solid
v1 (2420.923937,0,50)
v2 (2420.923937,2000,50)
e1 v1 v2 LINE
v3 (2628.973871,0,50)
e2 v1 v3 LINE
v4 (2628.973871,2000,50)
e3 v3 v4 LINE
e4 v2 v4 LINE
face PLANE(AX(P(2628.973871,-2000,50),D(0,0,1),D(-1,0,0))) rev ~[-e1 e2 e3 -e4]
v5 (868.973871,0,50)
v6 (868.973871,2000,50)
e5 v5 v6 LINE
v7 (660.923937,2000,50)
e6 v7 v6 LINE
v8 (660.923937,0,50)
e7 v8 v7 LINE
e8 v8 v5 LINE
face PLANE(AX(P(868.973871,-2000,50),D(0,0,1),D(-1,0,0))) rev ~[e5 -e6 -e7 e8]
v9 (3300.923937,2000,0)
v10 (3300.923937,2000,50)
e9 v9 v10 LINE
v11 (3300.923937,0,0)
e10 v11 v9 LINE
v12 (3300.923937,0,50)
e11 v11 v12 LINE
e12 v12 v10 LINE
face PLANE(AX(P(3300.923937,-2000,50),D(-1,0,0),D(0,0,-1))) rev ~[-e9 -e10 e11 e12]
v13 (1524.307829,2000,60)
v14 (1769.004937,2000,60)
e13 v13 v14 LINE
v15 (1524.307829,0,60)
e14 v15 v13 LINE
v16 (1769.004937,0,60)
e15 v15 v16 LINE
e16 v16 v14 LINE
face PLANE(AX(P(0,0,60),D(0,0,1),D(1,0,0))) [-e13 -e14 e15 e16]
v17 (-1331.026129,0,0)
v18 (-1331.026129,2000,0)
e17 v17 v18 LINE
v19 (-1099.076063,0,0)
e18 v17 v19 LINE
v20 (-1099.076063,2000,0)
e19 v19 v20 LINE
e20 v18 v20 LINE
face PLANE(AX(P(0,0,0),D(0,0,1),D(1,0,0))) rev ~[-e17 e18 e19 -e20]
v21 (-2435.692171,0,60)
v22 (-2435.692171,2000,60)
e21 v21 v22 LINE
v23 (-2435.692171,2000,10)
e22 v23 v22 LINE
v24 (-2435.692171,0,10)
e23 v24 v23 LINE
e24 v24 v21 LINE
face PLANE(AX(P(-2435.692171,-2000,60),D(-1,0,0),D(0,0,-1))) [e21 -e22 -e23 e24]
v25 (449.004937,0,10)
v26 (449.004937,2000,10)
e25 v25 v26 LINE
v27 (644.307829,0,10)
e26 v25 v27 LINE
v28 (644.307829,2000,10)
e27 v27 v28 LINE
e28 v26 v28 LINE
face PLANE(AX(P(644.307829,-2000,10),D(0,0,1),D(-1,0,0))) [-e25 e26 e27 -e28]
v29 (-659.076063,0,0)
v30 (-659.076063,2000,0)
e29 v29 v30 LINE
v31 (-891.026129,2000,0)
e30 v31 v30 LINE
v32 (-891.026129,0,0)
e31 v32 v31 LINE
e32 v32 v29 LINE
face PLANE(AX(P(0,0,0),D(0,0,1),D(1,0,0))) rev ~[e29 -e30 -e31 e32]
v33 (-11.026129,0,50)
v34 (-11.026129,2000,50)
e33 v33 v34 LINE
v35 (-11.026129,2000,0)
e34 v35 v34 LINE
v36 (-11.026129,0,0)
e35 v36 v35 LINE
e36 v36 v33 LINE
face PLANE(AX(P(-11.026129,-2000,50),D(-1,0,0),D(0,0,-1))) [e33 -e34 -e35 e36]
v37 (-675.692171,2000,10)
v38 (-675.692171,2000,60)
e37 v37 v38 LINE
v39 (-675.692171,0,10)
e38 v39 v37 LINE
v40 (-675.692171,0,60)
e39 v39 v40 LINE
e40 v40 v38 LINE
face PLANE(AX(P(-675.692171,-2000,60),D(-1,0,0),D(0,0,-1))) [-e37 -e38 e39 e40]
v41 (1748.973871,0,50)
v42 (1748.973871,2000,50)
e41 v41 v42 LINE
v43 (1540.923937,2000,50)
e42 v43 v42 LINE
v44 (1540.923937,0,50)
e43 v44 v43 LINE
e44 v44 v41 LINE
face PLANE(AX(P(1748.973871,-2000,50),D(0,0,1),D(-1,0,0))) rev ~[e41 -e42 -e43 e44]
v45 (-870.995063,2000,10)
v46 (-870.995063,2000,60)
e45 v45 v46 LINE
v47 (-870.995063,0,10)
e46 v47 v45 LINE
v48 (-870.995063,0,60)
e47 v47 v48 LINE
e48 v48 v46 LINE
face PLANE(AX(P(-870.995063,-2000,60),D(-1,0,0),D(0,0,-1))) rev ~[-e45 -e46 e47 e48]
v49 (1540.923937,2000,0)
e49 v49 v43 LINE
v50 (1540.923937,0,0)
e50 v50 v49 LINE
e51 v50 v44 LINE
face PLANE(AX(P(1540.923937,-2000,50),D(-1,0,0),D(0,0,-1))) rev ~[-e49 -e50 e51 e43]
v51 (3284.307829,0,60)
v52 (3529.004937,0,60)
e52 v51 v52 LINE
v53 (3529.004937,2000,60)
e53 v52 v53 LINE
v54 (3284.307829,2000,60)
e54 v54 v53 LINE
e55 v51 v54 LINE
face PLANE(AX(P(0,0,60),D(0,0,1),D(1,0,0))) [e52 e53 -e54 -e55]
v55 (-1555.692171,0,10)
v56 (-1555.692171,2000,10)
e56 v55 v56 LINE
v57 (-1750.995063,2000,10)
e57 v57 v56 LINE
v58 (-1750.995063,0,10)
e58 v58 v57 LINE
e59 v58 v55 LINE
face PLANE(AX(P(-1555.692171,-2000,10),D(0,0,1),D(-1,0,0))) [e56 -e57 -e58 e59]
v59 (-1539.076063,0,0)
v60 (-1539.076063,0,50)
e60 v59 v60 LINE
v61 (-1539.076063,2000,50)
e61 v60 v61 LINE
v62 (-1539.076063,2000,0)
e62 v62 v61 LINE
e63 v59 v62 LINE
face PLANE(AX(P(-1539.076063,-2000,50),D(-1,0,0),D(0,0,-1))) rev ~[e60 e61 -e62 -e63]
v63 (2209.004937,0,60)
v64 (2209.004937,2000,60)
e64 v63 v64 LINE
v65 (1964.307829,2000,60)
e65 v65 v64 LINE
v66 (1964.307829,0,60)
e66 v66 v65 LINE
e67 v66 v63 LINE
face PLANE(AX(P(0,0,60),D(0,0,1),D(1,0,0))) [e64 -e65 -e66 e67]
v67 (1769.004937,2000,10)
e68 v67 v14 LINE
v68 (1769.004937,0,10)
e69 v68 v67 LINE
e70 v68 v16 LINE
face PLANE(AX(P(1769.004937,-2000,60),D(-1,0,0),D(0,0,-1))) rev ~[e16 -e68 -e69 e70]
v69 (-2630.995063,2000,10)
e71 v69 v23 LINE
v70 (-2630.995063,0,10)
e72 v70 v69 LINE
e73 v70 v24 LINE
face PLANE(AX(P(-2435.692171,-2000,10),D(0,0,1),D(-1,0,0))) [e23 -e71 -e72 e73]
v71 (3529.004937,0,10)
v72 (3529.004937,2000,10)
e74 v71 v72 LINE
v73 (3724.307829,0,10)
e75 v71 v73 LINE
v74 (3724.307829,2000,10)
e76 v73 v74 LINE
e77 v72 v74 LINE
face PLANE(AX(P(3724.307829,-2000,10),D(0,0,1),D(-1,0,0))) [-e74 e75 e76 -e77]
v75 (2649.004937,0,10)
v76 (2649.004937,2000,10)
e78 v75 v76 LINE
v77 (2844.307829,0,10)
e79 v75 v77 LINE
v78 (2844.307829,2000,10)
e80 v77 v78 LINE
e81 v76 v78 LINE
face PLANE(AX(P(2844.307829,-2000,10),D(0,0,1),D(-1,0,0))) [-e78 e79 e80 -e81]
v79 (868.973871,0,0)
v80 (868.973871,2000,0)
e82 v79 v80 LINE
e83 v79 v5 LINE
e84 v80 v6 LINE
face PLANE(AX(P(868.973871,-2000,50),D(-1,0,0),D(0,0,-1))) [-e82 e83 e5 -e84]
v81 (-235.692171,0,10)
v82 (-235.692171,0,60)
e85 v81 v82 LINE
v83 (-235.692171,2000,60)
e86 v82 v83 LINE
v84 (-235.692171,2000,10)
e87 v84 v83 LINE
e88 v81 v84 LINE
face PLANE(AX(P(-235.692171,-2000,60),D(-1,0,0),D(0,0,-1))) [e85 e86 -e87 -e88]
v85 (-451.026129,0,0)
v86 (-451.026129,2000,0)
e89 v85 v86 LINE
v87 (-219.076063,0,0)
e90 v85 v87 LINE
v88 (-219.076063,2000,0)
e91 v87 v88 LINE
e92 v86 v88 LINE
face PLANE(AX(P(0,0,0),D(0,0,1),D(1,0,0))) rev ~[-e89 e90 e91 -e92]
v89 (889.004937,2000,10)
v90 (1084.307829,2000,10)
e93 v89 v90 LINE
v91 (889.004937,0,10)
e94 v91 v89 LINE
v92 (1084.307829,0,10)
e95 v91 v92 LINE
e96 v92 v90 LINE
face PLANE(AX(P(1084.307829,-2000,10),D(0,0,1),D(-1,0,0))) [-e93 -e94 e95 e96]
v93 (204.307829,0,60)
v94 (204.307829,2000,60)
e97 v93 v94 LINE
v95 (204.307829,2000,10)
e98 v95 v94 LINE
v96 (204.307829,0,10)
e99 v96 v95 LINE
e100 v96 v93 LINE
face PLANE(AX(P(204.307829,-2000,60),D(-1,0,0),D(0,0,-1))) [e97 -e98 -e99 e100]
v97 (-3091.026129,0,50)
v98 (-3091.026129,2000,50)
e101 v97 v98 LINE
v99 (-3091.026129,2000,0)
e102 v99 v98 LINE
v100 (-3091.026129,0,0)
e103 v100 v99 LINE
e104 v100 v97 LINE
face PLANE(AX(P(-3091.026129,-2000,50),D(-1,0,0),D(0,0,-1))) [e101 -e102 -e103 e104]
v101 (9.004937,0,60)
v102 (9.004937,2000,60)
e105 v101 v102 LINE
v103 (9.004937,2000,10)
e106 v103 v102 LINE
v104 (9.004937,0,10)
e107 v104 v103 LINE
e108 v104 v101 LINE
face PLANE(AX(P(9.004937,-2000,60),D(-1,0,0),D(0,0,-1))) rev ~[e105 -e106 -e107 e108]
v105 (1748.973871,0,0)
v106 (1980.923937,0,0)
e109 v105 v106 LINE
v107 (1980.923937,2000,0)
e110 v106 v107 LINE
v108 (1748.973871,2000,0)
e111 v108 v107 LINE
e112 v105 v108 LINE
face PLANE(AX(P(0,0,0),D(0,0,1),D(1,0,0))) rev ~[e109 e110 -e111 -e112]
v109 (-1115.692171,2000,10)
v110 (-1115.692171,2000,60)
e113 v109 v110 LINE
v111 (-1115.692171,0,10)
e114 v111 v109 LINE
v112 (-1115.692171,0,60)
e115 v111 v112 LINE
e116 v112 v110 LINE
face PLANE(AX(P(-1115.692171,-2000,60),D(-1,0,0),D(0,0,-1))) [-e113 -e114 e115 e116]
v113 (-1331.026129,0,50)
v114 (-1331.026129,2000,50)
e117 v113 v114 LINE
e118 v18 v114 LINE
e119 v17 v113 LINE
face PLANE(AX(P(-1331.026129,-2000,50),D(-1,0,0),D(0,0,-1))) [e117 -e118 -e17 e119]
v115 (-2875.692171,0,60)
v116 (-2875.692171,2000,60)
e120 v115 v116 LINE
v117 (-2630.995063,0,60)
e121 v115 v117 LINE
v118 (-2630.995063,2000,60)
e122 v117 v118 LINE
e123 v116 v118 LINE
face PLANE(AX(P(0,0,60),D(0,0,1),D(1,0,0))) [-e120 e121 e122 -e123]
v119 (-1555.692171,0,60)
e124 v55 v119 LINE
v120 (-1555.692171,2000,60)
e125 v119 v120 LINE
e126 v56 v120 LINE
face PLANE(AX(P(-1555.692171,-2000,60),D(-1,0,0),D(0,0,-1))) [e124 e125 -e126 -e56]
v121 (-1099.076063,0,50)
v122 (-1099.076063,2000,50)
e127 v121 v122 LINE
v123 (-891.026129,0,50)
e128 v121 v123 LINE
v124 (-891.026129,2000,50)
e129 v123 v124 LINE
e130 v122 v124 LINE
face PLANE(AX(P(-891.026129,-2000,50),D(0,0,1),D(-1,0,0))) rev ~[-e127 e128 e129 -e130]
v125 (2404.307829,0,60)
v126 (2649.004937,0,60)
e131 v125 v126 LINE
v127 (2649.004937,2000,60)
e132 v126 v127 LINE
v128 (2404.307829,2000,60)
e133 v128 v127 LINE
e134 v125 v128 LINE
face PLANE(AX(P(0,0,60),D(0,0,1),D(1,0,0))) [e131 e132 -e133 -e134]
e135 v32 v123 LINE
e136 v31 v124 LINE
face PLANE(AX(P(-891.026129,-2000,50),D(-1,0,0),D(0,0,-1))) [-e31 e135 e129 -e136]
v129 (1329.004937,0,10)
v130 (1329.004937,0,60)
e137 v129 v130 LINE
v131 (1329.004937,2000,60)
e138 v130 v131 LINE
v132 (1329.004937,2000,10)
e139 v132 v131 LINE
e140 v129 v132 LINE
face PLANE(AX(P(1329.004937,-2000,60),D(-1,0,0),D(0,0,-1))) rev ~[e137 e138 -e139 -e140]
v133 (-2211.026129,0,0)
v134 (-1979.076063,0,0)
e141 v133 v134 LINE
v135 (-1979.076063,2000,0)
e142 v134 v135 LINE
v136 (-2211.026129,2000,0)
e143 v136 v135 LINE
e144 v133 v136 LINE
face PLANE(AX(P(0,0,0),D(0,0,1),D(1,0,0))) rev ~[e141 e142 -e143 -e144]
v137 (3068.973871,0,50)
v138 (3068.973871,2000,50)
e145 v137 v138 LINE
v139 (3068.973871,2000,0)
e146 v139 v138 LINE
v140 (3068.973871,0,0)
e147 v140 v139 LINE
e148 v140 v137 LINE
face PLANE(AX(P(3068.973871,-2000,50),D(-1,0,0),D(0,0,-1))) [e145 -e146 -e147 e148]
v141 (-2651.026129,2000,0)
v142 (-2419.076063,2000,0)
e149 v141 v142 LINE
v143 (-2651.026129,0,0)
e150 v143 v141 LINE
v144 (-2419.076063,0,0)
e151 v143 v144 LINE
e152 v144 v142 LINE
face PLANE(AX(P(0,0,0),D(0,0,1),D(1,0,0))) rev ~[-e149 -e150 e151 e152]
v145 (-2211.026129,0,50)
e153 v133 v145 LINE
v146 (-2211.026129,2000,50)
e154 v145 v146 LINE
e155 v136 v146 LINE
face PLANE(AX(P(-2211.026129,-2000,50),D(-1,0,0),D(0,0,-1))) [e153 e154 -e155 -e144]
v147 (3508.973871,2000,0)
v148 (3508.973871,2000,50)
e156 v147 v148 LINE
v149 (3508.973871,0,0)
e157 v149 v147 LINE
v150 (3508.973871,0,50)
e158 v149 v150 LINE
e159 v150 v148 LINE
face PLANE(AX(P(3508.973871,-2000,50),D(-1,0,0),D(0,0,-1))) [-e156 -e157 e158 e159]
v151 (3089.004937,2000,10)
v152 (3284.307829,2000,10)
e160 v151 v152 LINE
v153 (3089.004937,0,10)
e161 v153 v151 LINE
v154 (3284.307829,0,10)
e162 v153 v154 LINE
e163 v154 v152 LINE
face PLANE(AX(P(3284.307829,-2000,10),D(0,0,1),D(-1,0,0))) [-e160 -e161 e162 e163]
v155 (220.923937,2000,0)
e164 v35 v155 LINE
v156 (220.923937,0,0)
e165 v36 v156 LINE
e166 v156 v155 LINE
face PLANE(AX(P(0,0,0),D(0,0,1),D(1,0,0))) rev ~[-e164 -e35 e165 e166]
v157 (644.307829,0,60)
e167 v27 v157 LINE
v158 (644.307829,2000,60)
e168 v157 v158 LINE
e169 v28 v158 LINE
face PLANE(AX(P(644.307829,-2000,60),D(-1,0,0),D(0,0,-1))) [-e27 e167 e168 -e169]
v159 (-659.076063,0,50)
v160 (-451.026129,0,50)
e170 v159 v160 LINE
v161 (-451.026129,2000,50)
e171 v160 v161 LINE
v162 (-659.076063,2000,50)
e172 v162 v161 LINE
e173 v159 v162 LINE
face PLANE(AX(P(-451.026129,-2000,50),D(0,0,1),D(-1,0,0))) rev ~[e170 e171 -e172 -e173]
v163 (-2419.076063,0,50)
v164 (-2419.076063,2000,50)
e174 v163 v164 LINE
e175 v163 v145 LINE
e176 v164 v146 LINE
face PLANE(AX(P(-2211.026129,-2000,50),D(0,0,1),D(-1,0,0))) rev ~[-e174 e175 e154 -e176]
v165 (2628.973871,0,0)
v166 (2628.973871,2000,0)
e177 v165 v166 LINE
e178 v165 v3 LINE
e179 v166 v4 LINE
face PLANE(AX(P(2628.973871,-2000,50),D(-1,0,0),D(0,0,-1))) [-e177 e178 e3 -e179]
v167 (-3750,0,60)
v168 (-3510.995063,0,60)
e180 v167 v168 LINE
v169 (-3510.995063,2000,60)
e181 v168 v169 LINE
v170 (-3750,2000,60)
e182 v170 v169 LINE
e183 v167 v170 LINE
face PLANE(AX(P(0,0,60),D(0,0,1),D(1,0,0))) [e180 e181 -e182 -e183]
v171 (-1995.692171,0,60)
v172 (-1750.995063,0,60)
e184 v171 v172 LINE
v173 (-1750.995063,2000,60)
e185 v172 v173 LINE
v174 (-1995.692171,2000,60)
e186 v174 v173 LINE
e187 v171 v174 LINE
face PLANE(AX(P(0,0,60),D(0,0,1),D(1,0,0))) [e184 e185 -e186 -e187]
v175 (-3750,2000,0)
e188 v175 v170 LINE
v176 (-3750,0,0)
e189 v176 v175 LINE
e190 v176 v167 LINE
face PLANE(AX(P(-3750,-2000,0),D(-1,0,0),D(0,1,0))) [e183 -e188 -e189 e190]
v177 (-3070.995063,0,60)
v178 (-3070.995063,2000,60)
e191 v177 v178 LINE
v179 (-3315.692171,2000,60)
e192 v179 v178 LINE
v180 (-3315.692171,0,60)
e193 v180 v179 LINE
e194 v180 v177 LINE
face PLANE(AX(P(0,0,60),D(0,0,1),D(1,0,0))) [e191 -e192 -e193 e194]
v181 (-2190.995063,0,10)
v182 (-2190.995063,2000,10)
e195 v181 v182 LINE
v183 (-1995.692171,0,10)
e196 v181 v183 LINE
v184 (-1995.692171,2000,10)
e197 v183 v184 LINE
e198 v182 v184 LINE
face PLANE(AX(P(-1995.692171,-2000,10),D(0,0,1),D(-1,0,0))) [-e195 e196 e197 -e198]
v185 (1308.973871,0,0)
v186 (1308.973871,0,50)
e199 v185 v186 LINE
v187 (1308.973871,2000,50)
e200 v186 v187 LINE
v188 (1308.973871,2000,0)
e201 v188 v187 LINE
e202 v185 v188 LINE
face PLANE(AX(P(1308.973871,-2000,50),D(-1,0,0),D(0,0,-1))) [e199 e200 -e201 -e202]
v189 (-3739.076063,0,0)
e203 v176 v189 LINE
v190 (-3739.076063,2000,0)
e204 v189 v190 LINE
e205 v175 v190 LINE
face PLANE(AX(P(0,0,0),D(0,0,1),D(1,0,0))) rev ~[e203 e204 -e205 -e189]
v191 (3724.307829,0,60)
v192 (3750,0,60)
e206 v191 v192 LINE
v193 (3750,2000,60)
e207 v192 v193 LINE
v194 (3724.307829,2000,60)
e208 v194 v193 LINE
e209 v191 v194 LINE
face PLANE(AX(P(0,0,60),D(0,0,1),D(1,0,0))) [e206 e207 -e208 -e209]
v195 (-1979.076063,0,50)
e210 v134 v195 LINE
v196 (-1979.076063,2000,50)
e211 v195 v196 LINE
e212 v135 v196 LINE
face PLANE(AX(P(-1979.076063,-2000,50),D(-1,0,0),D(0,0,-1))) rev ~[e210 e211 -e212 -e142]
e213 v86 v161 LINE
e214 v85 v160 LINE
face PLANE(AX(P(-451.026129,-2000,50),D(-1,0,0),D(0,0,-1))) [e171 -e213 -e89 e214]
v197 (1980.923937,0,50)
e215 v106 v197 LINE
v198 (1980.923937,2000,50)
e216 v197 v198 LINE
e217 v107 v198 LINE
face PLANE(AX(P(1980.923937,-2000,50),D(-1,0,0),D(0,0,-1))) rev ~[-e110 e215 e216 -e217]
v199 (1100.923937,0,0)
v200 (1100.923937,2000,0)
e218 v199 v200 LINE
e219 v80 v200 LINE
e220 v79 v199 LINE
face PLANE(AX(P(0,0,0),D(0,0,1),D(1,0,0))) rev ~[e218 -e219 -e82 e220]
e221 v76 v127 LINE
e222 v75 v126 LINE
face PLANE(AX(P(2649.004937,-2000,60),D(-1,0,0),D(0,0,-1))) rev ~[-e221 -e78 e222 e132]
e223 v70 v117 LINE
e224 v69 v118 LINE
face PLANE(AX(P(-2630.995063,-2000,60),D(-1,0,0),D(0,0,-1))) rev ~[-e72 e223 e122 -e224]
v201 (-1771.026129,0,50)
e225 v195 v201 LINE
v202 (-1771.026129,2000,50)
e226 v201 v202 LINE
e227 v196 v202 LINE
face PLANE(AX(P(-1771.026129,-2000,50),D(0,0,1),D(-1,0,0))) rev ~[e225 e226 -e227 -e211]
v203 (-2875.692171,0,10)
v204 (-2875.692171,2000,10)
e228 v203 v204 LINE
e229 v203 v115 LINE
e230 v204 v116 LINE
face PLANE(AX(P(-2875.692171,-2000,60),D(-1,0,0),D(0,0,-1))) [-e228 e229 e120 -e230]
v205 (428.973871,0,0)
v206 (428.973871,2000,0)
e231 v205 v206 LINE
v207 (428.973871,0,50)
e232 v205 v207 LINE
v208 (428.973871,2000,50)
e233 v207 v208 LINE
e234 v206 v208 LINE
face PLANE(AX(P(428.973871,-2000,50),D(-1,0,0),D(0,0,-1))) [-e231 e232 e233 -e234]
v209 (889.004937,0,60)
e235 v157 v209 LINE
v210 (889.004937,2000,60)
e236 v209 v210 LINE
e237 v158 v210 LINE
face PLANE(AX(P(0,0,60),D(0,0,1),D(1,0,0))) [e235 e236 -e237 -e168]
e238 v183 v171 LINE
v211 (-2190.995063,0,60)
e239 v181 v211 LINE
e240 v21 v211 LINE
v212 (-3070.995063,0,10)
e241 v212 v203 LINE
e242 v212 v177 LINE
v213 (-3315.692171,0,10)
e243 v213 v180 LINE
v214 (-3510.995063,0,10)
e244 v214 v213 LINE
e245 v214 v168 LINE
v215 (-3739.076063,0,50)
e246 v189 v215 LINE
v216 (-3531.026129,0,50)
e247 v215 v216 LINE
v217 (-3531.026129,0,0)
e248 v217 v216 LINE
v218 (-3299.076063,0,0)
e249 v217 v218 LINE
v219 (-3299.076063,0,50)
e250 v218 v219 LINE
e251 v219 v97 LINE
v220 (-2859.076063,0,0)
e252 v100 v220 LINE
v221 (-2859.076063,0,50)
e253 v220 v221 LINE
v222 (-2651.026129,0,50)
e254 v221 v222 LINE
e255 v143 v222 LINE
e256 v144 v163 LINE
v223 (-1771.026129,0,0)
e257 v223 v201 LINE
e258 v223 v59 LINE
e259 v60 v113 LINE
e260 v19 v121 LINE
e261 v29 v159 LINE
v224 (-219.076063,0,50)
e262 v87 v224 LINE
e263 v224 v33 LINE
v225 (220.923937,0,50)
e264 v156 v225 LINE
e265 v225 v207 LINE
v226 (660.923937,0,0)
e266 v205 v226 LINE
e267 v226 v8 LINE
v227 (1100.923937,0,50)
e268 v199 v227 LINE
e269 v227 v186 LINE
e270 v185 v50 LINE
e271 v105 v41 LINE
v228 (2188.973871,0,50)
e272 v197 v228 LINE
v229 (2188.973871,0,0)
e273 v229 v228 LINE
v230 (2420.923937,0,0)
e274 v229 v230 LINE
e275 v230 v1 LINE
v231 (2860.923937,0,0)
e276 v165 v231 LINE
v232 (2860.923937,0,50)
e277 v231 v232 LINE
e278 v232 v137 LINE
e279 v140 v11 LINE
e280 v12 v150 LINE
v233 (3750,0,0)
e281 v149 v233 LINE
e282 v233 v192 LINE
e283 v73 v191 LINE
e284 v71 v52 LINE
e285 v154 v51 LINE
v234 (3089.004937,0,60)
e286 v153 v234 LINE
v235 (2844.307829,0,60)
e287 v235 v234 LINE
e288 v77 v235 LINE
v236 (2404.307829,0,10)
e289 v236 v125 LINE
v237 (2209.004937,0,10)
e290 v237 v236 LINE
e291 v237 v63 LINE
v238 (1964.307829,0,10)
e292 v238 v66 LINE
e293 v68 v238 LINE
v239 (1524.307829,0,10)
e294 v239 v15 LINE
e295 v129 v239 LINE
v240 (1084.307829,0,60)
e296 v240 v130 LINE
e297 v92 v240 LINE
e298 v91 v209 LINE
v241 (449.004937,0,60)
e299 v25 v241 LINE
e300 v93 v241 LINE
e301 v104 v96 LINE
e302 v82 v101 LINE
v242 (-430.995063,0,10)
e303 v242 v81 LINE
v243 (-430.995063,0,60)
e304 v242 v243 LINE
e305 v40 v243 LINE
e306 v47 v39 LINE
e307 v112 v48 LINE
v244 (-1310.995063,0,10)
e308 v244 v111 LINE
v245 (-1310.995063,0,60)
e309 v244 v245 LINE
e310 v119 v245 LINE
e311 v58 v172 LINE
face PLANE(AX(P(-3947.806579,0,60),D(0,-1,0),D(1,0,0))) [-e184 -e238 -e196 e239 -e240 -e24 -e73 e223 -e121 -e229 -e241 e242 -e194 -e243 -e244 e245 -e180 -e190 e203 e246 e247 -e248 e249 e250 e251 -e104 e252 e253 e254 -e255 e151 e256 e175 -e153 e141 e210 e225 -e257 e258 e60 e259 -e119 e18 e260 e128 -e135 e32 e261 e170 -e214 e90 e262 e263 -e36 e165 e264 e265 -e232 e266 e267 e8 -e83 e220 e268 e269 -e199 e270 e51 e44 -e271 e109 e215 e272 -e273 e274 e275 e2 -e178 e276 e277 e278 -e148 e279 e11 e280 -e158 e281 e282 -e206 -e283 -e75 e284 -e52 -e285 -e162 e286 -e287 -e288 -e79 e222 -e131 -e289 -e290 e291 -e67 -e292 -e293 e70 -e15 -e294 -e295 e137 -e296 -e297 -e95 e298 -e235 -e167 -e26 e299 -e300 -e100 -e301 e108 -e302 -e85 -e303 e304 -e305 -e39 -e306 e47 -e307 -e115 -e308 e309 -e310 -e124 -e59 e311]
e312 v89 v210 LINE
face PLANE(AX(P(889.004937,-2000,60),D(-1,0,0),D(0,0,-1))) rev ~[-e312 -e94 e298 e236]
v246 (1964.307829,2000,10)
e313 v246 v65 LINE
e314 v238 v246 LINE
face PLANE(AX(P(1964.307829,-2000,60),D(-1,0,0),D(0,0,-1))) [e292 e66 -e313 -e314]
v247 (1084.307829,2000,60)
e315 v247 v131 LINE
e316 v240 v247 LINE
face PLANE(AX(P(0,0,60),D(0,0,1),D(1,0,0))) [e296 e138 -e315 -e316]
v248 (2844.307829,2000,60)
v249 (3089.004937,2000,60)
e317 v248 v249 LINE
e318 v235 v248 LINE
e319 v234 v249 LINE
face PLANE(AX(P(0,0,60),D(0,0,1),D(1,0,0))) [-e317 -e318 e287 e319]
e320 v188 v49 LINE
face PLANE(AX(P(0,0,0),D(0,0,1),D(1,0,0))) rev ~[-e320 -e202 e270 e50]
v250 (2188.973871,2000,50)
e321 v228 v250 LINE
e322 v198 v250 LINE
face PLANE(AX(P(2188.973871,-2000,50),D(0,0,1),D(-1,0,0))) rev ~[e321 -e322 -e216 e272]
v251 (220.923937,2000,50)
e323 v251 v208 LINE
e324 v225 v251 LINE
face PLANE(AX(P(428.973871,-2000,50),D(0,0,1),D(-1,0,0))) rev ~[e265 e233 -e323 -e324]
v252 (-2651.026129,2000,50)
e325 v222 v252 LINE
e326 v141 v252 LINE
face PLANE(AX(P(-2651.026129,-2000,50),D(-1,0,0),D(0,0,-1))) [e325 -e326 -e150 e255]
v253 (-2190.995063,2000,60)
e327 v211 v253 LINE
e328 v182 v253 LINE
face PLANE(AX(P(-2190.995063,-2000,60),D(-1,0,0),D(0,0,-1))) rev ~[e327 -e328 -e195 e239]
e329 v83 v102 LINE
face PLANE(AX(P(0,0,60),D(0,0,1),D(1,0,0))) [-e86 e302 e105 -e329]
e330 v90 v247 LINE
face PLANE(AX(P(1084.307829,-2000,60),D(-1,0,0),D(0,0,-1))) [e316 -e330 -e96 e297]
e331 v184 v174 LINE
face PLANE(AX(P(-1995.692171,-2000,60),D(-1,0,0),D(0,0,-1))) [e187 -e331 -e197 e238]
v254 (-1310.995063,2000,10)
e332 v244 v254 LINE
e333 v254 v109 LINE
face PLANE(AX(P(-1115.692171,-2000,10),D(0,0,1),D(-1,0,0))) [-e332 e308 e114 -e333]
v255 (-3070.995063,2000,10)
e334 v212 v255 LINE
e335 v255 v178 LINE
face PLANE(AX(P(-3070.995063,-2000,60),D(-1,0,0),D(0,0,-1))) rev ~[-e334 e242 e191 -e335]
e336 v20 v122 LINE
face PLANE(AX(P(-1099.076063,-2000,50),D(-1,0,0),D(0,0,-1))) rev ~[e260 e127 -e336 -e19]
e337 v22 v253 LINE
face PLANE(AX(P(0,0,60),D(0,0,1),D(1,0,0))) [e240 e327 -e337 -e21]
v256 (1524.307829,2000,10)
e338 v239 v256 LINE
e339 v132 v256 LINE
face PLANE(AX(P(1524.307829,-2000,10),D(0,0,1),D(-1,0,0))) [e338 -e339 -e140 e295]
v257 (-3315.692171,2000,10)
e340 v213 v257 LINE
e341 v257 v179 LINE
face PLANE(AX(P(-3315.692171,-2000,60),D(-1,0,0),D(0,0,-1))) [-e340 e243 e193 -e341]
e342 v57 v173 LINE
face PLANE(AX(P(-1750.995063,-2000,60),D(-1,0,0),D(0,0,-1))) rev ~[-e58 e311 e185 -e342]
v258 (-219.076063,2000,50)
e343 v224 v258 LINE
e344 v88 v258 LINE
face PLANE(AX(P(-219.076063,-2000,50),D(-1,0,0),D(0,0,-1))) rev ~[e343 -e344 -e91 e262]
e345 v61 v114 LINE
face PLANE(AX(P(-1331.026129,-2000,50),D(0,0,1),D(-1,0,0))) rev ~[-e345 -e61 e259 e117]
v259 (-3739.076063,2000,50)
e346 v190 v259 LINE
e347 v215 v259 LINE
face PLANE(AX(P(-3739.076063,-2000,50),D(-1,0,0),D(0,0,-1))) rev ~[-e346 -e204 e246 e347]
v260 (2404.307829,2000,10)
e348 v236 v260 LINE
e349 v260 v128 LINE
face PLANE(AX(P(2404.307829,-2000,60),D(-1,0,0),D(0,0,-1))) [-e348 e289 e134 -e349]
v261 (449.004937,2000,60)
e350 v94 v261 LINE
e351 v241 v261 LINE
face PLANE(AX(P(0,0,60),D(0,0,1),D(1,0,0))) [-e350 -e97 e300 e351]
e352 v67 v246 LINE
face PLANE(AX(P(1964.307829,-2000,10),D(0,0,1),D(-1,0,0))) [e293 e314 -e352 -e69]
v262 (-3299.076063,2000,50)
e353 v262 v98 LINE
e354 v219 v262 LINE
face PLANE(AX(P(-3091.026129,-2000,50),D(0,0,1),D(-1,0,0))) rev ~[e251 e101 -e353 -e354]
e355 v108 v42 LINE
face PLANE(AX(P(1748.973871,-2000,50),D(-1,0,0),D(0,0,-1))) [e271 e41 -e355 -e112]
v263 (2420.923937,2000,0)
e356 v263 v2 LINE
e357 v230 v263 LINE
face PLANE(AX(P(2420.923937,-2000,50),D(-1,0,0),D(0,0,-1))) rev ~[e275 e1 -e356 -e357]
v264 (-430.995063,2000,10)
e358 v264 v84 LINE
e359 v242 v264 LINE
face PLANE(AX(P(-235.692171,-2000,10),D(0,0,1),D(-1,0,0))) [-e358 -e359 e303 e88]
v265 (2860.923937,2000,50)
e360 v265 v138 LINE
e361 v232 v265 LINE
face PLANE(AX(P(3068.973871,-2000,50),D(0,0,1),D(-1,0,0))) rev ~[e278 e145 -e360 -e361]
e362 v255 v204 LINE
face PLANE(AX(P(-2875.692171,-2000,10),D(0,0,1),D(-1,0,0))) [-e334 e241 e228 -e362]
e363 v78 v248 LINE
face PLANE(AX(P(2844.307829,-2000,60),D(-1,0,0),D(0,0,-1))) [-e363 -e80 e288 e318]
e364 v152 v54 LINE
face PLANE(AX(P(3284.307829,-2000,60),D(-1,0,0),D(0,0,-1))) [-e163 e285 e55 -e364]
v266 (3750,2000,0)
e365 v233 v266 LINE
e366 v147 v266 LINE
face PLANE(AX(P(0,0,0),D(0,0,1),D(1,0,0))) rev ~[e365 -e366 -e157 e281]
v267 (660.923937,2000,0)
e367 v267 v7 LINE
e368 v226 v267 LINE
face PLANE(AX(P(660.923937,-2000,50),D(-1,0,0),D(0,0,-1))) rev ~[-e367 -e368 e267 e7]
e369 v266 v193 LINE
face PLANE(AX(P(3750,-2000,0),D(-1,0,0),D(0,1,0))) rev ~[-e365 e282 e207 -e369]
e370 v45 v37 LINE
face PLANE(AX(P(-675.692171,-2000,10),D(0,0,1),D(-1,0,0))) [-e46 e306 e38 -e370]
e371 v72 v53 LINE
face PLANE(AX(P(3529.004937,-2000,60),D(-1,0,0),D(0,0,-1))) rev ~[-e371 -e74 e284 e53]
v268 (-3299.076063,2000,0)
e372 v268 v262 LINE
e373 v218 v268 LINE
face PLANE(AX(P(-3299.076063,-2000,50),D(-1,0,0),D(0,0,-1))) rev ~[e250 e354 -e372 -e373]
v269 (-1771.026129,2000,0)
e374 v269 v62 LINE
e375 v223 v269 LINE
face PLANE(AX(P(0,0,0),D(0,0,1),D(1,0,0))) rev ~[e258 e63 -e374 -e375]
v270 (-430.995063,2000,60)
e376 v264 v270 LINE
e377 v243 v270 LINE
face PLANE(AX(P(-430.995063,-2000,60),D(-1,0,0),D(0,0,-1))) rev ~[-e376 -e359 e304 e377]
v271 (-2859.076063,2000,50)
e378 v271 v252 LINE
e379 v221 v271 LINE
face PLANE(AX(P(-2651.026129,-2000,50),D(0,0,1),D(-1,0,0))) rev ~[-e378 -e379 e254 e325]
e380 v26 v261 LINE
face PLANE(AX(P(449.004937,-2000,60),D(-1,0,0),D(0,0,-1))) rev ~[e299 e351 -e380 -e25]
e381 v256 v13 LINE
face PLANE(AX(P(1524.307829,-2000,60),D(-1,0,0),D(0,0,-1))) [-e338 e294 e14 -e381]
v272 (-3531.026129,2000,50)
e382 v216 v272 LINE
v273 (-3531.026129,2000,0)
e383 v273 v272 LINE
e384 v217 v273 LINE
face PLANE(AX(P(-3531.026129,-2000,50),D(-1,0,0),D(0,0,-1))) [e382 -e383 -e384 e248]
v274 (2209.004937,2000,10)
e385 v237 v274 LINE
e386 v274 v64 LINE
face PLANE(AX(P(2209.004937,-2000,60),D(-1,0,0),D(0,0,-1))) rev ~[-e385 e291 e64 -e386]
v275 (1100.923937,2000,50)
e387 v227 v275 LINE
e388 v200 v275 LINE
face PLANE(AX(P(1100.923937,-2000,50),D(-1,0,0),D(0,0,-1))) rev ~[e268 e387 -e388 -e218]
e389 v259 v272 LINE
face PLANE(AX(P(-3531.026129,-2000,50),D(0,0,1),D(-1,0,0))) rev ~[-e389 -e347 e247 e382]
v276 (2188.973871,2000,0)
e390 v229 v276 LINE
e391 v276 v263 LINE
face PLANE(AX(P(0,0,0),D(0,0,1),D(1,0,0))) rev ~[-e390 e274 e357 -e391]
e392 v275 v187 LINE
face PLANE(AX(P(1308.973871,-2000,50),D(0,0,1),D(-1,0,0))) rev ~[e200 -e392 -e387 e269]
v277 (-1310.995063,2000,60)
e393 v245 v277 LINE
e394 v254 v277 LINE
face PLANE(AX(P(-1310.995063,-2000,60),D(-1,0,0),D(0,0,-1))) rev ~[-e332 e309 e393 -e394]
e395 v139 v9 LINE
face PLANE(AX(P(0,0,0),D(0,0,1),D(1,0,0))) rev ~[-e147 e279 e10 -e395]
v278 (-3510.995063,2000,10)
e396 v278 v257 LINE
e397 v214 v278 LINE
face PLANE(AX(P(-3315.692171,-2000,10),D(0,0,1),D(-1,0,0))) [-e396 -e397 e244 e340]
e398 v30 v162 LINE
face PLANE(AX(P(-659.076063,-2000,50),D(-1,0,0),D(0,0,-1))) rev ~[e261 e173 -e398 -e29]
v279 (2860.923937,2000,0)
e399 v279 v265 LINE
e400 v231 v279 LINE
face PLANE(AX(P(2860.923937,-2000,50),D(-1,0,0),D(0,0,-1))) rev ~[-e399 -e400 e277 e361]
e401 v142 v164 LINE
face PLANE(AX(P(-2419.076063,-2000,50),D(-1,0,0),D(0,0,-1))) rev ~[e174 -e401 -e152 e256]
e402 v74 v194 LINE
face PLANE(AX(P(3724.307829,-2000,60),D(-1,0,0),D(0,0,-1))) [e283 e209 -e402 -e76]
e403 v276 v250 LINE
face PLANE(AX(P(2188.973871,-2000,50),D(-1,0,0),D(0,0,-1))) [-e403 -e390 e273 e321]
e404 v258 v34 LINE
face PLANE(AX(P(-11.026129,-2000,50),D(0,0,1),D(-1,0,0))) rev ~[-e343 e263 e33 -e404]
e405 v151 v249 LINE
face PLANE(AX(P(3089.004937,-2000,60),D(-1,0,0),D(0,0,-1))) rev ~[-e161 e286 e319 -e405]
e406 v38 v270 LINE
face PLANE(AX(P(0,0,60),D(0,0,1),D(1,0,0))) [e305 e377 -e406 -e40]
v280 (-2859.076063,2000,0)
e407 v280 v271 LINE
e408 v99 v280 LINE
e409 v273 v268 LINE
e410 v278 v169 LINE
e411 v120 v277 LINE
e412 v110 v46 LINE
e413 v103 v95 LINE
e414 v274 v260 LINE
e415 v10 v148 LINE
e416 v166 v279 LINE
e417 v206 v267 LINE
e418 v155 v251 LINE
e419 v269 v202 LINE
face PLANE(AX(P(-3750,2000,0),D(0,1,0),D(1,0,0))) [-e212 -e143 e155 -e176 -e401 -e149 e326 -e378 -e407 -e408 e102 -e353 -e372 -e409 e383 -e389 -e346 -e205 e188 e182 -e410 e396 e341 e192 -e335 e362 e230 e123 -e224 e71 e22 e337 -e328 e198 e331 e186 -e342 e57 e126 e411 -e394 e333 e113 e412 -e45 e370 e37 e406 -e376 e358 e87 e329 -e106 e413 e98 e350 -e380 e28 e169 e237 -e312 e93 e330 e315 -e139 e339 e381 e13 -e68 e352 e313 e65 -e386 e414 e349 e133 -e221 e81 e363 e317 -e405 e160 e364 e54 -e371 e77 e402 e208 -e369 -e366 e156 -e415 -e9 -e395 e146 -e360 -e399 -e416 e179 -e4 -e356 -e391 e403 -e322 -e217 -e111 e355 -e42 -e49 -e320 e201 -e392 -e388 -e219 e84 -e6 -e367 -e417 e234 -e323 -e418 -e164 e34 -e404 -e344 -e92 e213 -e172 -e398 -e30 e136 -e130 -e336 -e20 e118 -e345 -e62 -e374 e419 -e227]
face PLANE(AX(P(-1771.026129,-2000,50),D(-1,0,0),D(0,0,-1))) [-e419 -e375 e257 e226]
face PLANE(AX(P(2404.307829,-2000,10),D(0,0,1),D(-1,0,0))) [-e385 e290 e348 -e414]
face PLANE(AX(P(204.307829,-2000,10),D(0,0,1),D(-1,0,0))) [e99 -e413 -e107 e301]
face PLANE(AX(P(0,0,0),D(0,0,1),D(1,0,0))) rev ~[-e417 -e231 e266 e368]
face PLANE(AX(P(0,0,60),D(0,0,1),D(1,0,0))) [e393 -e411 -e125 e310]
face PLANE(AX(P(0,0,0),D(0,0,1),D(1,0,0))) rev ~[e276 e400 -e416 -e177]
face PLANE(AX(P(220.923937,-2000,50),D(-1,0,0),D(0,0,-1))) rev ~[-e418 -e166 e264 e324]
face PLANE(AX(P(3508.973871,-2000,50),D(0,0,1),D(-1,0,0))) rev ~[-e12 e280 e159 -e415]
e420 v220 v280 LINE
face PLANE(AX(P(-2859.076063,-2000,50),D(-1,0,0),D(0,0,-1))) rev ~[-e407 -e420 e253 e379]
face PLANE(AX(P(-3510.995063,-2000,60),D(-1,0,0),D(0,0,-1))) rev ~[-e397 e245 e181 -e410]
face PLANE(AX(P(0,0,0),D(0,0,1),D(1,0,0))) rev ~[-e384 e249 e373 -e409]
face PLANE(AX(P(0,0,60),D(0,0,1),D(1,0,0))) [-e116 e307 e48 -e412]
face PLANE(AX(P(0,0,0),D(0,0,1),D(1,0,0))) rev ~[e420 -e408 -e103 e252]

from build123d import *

# Parameters (mm, degrees)
SKETCH1_W           = 7500
SKETCH1_H           = 4000
BOSS_EXTRUDE1_DEPTH = 60
SKETCH2_W           = 208.04993412
SKETCH2_H           = 50
SKETCH2_W_2         = 195.302892205
CUT_EXTRUDE1_DEPTH  = 5107
SKETCH3_W           = 8856.494382811
SKETCH3_H           = 2648.009884852
CUT_EXTRUDE2_DEPTH  = 887


with BuildPart() as part:
    # Sketch1 → Boss-Extrude1 (new body)
    with BuildSketch(Plane.XY):
        Rectangle(SKETCH1_W, SKETCH1_H)
    extrude(amount=BOSS_EXTRUDE1_DEPTH)

    # Sketch2 → Cut-Extrude1 (cut)
    with BuildSketch(Plane(origin=(0, -2000, 0), x_dir=(-1, 0, 0), z_dir=(0, -1, 0))):
        with Locations((3635.051095731, -25)):
            Rectangle(SKETCH2_W, SKETCH2_H)
        with Locations((3413.343616701, -35)):
            Rectangle(SKETCH2_W_2, SKETCH2_H)
        with Locations((3195.051095731, -25)):
            Rectangle(SKETCH2_W, SKETCH2_H)
        with Locations((2973.343616701, -35)):
            Rectangle(SKETCH2_W_2, SKETCH2_H)
        with Locations((2755.051095731, -25)):
            Rectangle(SKETCH2_W, SKETCH2_H)
        with Locations((2533.343616701, -35)):
            Rectangle(SKETCH2_W_2, SKETCH2_H)
        with Locations((2315.051095731, -25)):
            Rectangle(SKETCH2_W, SKETCH2_H)
        with Locations((2093.343616701, -35)):
            Rectangle(SKETCH2_W_2, SKETCH2_H)
        with Locations((1875.051095731, -25)):
            Rectangle(SKETCH2_W, SKETCH2_H)
        with Locations((1653.343616701, -35)):
            Rectangle(SKETCH2_W_2, SKETCH2_H)
        with Locations((1435.051095731, -25)):
            Rectangle(SKETCH2_W, SKETCH2_H)
        with Locations((1213.343616701, -35)):
            Rectangle(SKETCH2_W_2, SKETCH2_H)
        with Locations((995.051095731, -25)):
            Rectangle(SKETCH2_W, SKETCH2_H)
        with Locations((773.343616701, -35)):
            Rectangle(SKETCH2_W_2, SKETCH2_H)
        with Locations((555.051095731, -25)):
            Rectangle(SKETCH2_W, SKETCH2_H)
        with Locations((333.343616701, -35)):
            Rectangle(SKETCH2_W_2, SKETCH2_H)
        with Locations((115.051095731, -25)):
            Rectangle(SKETCH2_W, SKETCH2_H)
        with Locations((-106.6563833, -35)):
            Rectangle(SKETCH2_W_2, SKETCH2_H)
        with Locations((-324.948904269, -25)):
            Rectangle(SKETCH2_W, SKETCH2_H)
        with Locations((-546.6563833, -35)):
            Rectangle(SKETCH2_W_2, SKETCH2_H)
        with Locations((-764.948904269, -25)):
            Rectangle(SKETCH2_W, SKETCH2_H)
        with Locations((-986.6563833, -35)):
            Rectangle(SKETCH2_W_2, SKETCH2_H)
        with Locations((-1204.948904269, -25)):
            Rectangle(SKETCH2_W, SKETCH2_H)
        with Locations((-1426.6563833, -35)):
            Rectangle(SKETCH2_W_2, SKETCH2_H)
        with Locations((-1644.948904269, -25)):
            Rectangle(SKETCH2_W, SKETCH2_H)
        with Locations((-1866.6563833, -35)):
            Rectangle(SKETCH2_W_2, SKETCH2_H)
        with Locations((-2084.948904269, -25)):
            Rectangle(SKETCH2_W, SKETCH2_H)
        with Locations((-2306.6563833, -35)):
            Rectangle(SKETCH2_W_2, SKETCH2_H)
        with Locations((-2524.948904269, -25)):
            Rectangle(SKETCH2_W, SKETCH2_H)
        with Locations((-2746.6563833, -35)):
            Rectangle(SKETCH2_W_2, SKETCH2_H)
        with Locations((-2964.948904269, -25)):
            Rectangle(SKETCH2_W, SKETCH2_H)
        with Locations((-3186.6563833, -35)):
            Rectangle(SKETCH2_W_2, SKETCH2_H)
        with Locations((-3404.948904269, -25)):
            Rectangle(SKETCH2_W, SKETCH2_H)
        with Locations((-3626.6563833, -35)):
            Rectangle(SKETCH2_W_2, SKETCH2_H)
    extrude(amount=-CUT_EXTRUDE1_DEPTH, mode=Mode.SUBTRACT)

    # Sketch3 → Cut-Extrude2 (cut)
    with BuildSketch(Plane.XY.offset(60)):
        with Locations((480.44061202, -1324.004942426)):
            Rectangle(SKETCH3_W, SKETCH3_H)
    extrude(amount=-CUT_EXTRUDE2_DEPTH, mode=Mode.SUBTRACT)


solid = part.part
